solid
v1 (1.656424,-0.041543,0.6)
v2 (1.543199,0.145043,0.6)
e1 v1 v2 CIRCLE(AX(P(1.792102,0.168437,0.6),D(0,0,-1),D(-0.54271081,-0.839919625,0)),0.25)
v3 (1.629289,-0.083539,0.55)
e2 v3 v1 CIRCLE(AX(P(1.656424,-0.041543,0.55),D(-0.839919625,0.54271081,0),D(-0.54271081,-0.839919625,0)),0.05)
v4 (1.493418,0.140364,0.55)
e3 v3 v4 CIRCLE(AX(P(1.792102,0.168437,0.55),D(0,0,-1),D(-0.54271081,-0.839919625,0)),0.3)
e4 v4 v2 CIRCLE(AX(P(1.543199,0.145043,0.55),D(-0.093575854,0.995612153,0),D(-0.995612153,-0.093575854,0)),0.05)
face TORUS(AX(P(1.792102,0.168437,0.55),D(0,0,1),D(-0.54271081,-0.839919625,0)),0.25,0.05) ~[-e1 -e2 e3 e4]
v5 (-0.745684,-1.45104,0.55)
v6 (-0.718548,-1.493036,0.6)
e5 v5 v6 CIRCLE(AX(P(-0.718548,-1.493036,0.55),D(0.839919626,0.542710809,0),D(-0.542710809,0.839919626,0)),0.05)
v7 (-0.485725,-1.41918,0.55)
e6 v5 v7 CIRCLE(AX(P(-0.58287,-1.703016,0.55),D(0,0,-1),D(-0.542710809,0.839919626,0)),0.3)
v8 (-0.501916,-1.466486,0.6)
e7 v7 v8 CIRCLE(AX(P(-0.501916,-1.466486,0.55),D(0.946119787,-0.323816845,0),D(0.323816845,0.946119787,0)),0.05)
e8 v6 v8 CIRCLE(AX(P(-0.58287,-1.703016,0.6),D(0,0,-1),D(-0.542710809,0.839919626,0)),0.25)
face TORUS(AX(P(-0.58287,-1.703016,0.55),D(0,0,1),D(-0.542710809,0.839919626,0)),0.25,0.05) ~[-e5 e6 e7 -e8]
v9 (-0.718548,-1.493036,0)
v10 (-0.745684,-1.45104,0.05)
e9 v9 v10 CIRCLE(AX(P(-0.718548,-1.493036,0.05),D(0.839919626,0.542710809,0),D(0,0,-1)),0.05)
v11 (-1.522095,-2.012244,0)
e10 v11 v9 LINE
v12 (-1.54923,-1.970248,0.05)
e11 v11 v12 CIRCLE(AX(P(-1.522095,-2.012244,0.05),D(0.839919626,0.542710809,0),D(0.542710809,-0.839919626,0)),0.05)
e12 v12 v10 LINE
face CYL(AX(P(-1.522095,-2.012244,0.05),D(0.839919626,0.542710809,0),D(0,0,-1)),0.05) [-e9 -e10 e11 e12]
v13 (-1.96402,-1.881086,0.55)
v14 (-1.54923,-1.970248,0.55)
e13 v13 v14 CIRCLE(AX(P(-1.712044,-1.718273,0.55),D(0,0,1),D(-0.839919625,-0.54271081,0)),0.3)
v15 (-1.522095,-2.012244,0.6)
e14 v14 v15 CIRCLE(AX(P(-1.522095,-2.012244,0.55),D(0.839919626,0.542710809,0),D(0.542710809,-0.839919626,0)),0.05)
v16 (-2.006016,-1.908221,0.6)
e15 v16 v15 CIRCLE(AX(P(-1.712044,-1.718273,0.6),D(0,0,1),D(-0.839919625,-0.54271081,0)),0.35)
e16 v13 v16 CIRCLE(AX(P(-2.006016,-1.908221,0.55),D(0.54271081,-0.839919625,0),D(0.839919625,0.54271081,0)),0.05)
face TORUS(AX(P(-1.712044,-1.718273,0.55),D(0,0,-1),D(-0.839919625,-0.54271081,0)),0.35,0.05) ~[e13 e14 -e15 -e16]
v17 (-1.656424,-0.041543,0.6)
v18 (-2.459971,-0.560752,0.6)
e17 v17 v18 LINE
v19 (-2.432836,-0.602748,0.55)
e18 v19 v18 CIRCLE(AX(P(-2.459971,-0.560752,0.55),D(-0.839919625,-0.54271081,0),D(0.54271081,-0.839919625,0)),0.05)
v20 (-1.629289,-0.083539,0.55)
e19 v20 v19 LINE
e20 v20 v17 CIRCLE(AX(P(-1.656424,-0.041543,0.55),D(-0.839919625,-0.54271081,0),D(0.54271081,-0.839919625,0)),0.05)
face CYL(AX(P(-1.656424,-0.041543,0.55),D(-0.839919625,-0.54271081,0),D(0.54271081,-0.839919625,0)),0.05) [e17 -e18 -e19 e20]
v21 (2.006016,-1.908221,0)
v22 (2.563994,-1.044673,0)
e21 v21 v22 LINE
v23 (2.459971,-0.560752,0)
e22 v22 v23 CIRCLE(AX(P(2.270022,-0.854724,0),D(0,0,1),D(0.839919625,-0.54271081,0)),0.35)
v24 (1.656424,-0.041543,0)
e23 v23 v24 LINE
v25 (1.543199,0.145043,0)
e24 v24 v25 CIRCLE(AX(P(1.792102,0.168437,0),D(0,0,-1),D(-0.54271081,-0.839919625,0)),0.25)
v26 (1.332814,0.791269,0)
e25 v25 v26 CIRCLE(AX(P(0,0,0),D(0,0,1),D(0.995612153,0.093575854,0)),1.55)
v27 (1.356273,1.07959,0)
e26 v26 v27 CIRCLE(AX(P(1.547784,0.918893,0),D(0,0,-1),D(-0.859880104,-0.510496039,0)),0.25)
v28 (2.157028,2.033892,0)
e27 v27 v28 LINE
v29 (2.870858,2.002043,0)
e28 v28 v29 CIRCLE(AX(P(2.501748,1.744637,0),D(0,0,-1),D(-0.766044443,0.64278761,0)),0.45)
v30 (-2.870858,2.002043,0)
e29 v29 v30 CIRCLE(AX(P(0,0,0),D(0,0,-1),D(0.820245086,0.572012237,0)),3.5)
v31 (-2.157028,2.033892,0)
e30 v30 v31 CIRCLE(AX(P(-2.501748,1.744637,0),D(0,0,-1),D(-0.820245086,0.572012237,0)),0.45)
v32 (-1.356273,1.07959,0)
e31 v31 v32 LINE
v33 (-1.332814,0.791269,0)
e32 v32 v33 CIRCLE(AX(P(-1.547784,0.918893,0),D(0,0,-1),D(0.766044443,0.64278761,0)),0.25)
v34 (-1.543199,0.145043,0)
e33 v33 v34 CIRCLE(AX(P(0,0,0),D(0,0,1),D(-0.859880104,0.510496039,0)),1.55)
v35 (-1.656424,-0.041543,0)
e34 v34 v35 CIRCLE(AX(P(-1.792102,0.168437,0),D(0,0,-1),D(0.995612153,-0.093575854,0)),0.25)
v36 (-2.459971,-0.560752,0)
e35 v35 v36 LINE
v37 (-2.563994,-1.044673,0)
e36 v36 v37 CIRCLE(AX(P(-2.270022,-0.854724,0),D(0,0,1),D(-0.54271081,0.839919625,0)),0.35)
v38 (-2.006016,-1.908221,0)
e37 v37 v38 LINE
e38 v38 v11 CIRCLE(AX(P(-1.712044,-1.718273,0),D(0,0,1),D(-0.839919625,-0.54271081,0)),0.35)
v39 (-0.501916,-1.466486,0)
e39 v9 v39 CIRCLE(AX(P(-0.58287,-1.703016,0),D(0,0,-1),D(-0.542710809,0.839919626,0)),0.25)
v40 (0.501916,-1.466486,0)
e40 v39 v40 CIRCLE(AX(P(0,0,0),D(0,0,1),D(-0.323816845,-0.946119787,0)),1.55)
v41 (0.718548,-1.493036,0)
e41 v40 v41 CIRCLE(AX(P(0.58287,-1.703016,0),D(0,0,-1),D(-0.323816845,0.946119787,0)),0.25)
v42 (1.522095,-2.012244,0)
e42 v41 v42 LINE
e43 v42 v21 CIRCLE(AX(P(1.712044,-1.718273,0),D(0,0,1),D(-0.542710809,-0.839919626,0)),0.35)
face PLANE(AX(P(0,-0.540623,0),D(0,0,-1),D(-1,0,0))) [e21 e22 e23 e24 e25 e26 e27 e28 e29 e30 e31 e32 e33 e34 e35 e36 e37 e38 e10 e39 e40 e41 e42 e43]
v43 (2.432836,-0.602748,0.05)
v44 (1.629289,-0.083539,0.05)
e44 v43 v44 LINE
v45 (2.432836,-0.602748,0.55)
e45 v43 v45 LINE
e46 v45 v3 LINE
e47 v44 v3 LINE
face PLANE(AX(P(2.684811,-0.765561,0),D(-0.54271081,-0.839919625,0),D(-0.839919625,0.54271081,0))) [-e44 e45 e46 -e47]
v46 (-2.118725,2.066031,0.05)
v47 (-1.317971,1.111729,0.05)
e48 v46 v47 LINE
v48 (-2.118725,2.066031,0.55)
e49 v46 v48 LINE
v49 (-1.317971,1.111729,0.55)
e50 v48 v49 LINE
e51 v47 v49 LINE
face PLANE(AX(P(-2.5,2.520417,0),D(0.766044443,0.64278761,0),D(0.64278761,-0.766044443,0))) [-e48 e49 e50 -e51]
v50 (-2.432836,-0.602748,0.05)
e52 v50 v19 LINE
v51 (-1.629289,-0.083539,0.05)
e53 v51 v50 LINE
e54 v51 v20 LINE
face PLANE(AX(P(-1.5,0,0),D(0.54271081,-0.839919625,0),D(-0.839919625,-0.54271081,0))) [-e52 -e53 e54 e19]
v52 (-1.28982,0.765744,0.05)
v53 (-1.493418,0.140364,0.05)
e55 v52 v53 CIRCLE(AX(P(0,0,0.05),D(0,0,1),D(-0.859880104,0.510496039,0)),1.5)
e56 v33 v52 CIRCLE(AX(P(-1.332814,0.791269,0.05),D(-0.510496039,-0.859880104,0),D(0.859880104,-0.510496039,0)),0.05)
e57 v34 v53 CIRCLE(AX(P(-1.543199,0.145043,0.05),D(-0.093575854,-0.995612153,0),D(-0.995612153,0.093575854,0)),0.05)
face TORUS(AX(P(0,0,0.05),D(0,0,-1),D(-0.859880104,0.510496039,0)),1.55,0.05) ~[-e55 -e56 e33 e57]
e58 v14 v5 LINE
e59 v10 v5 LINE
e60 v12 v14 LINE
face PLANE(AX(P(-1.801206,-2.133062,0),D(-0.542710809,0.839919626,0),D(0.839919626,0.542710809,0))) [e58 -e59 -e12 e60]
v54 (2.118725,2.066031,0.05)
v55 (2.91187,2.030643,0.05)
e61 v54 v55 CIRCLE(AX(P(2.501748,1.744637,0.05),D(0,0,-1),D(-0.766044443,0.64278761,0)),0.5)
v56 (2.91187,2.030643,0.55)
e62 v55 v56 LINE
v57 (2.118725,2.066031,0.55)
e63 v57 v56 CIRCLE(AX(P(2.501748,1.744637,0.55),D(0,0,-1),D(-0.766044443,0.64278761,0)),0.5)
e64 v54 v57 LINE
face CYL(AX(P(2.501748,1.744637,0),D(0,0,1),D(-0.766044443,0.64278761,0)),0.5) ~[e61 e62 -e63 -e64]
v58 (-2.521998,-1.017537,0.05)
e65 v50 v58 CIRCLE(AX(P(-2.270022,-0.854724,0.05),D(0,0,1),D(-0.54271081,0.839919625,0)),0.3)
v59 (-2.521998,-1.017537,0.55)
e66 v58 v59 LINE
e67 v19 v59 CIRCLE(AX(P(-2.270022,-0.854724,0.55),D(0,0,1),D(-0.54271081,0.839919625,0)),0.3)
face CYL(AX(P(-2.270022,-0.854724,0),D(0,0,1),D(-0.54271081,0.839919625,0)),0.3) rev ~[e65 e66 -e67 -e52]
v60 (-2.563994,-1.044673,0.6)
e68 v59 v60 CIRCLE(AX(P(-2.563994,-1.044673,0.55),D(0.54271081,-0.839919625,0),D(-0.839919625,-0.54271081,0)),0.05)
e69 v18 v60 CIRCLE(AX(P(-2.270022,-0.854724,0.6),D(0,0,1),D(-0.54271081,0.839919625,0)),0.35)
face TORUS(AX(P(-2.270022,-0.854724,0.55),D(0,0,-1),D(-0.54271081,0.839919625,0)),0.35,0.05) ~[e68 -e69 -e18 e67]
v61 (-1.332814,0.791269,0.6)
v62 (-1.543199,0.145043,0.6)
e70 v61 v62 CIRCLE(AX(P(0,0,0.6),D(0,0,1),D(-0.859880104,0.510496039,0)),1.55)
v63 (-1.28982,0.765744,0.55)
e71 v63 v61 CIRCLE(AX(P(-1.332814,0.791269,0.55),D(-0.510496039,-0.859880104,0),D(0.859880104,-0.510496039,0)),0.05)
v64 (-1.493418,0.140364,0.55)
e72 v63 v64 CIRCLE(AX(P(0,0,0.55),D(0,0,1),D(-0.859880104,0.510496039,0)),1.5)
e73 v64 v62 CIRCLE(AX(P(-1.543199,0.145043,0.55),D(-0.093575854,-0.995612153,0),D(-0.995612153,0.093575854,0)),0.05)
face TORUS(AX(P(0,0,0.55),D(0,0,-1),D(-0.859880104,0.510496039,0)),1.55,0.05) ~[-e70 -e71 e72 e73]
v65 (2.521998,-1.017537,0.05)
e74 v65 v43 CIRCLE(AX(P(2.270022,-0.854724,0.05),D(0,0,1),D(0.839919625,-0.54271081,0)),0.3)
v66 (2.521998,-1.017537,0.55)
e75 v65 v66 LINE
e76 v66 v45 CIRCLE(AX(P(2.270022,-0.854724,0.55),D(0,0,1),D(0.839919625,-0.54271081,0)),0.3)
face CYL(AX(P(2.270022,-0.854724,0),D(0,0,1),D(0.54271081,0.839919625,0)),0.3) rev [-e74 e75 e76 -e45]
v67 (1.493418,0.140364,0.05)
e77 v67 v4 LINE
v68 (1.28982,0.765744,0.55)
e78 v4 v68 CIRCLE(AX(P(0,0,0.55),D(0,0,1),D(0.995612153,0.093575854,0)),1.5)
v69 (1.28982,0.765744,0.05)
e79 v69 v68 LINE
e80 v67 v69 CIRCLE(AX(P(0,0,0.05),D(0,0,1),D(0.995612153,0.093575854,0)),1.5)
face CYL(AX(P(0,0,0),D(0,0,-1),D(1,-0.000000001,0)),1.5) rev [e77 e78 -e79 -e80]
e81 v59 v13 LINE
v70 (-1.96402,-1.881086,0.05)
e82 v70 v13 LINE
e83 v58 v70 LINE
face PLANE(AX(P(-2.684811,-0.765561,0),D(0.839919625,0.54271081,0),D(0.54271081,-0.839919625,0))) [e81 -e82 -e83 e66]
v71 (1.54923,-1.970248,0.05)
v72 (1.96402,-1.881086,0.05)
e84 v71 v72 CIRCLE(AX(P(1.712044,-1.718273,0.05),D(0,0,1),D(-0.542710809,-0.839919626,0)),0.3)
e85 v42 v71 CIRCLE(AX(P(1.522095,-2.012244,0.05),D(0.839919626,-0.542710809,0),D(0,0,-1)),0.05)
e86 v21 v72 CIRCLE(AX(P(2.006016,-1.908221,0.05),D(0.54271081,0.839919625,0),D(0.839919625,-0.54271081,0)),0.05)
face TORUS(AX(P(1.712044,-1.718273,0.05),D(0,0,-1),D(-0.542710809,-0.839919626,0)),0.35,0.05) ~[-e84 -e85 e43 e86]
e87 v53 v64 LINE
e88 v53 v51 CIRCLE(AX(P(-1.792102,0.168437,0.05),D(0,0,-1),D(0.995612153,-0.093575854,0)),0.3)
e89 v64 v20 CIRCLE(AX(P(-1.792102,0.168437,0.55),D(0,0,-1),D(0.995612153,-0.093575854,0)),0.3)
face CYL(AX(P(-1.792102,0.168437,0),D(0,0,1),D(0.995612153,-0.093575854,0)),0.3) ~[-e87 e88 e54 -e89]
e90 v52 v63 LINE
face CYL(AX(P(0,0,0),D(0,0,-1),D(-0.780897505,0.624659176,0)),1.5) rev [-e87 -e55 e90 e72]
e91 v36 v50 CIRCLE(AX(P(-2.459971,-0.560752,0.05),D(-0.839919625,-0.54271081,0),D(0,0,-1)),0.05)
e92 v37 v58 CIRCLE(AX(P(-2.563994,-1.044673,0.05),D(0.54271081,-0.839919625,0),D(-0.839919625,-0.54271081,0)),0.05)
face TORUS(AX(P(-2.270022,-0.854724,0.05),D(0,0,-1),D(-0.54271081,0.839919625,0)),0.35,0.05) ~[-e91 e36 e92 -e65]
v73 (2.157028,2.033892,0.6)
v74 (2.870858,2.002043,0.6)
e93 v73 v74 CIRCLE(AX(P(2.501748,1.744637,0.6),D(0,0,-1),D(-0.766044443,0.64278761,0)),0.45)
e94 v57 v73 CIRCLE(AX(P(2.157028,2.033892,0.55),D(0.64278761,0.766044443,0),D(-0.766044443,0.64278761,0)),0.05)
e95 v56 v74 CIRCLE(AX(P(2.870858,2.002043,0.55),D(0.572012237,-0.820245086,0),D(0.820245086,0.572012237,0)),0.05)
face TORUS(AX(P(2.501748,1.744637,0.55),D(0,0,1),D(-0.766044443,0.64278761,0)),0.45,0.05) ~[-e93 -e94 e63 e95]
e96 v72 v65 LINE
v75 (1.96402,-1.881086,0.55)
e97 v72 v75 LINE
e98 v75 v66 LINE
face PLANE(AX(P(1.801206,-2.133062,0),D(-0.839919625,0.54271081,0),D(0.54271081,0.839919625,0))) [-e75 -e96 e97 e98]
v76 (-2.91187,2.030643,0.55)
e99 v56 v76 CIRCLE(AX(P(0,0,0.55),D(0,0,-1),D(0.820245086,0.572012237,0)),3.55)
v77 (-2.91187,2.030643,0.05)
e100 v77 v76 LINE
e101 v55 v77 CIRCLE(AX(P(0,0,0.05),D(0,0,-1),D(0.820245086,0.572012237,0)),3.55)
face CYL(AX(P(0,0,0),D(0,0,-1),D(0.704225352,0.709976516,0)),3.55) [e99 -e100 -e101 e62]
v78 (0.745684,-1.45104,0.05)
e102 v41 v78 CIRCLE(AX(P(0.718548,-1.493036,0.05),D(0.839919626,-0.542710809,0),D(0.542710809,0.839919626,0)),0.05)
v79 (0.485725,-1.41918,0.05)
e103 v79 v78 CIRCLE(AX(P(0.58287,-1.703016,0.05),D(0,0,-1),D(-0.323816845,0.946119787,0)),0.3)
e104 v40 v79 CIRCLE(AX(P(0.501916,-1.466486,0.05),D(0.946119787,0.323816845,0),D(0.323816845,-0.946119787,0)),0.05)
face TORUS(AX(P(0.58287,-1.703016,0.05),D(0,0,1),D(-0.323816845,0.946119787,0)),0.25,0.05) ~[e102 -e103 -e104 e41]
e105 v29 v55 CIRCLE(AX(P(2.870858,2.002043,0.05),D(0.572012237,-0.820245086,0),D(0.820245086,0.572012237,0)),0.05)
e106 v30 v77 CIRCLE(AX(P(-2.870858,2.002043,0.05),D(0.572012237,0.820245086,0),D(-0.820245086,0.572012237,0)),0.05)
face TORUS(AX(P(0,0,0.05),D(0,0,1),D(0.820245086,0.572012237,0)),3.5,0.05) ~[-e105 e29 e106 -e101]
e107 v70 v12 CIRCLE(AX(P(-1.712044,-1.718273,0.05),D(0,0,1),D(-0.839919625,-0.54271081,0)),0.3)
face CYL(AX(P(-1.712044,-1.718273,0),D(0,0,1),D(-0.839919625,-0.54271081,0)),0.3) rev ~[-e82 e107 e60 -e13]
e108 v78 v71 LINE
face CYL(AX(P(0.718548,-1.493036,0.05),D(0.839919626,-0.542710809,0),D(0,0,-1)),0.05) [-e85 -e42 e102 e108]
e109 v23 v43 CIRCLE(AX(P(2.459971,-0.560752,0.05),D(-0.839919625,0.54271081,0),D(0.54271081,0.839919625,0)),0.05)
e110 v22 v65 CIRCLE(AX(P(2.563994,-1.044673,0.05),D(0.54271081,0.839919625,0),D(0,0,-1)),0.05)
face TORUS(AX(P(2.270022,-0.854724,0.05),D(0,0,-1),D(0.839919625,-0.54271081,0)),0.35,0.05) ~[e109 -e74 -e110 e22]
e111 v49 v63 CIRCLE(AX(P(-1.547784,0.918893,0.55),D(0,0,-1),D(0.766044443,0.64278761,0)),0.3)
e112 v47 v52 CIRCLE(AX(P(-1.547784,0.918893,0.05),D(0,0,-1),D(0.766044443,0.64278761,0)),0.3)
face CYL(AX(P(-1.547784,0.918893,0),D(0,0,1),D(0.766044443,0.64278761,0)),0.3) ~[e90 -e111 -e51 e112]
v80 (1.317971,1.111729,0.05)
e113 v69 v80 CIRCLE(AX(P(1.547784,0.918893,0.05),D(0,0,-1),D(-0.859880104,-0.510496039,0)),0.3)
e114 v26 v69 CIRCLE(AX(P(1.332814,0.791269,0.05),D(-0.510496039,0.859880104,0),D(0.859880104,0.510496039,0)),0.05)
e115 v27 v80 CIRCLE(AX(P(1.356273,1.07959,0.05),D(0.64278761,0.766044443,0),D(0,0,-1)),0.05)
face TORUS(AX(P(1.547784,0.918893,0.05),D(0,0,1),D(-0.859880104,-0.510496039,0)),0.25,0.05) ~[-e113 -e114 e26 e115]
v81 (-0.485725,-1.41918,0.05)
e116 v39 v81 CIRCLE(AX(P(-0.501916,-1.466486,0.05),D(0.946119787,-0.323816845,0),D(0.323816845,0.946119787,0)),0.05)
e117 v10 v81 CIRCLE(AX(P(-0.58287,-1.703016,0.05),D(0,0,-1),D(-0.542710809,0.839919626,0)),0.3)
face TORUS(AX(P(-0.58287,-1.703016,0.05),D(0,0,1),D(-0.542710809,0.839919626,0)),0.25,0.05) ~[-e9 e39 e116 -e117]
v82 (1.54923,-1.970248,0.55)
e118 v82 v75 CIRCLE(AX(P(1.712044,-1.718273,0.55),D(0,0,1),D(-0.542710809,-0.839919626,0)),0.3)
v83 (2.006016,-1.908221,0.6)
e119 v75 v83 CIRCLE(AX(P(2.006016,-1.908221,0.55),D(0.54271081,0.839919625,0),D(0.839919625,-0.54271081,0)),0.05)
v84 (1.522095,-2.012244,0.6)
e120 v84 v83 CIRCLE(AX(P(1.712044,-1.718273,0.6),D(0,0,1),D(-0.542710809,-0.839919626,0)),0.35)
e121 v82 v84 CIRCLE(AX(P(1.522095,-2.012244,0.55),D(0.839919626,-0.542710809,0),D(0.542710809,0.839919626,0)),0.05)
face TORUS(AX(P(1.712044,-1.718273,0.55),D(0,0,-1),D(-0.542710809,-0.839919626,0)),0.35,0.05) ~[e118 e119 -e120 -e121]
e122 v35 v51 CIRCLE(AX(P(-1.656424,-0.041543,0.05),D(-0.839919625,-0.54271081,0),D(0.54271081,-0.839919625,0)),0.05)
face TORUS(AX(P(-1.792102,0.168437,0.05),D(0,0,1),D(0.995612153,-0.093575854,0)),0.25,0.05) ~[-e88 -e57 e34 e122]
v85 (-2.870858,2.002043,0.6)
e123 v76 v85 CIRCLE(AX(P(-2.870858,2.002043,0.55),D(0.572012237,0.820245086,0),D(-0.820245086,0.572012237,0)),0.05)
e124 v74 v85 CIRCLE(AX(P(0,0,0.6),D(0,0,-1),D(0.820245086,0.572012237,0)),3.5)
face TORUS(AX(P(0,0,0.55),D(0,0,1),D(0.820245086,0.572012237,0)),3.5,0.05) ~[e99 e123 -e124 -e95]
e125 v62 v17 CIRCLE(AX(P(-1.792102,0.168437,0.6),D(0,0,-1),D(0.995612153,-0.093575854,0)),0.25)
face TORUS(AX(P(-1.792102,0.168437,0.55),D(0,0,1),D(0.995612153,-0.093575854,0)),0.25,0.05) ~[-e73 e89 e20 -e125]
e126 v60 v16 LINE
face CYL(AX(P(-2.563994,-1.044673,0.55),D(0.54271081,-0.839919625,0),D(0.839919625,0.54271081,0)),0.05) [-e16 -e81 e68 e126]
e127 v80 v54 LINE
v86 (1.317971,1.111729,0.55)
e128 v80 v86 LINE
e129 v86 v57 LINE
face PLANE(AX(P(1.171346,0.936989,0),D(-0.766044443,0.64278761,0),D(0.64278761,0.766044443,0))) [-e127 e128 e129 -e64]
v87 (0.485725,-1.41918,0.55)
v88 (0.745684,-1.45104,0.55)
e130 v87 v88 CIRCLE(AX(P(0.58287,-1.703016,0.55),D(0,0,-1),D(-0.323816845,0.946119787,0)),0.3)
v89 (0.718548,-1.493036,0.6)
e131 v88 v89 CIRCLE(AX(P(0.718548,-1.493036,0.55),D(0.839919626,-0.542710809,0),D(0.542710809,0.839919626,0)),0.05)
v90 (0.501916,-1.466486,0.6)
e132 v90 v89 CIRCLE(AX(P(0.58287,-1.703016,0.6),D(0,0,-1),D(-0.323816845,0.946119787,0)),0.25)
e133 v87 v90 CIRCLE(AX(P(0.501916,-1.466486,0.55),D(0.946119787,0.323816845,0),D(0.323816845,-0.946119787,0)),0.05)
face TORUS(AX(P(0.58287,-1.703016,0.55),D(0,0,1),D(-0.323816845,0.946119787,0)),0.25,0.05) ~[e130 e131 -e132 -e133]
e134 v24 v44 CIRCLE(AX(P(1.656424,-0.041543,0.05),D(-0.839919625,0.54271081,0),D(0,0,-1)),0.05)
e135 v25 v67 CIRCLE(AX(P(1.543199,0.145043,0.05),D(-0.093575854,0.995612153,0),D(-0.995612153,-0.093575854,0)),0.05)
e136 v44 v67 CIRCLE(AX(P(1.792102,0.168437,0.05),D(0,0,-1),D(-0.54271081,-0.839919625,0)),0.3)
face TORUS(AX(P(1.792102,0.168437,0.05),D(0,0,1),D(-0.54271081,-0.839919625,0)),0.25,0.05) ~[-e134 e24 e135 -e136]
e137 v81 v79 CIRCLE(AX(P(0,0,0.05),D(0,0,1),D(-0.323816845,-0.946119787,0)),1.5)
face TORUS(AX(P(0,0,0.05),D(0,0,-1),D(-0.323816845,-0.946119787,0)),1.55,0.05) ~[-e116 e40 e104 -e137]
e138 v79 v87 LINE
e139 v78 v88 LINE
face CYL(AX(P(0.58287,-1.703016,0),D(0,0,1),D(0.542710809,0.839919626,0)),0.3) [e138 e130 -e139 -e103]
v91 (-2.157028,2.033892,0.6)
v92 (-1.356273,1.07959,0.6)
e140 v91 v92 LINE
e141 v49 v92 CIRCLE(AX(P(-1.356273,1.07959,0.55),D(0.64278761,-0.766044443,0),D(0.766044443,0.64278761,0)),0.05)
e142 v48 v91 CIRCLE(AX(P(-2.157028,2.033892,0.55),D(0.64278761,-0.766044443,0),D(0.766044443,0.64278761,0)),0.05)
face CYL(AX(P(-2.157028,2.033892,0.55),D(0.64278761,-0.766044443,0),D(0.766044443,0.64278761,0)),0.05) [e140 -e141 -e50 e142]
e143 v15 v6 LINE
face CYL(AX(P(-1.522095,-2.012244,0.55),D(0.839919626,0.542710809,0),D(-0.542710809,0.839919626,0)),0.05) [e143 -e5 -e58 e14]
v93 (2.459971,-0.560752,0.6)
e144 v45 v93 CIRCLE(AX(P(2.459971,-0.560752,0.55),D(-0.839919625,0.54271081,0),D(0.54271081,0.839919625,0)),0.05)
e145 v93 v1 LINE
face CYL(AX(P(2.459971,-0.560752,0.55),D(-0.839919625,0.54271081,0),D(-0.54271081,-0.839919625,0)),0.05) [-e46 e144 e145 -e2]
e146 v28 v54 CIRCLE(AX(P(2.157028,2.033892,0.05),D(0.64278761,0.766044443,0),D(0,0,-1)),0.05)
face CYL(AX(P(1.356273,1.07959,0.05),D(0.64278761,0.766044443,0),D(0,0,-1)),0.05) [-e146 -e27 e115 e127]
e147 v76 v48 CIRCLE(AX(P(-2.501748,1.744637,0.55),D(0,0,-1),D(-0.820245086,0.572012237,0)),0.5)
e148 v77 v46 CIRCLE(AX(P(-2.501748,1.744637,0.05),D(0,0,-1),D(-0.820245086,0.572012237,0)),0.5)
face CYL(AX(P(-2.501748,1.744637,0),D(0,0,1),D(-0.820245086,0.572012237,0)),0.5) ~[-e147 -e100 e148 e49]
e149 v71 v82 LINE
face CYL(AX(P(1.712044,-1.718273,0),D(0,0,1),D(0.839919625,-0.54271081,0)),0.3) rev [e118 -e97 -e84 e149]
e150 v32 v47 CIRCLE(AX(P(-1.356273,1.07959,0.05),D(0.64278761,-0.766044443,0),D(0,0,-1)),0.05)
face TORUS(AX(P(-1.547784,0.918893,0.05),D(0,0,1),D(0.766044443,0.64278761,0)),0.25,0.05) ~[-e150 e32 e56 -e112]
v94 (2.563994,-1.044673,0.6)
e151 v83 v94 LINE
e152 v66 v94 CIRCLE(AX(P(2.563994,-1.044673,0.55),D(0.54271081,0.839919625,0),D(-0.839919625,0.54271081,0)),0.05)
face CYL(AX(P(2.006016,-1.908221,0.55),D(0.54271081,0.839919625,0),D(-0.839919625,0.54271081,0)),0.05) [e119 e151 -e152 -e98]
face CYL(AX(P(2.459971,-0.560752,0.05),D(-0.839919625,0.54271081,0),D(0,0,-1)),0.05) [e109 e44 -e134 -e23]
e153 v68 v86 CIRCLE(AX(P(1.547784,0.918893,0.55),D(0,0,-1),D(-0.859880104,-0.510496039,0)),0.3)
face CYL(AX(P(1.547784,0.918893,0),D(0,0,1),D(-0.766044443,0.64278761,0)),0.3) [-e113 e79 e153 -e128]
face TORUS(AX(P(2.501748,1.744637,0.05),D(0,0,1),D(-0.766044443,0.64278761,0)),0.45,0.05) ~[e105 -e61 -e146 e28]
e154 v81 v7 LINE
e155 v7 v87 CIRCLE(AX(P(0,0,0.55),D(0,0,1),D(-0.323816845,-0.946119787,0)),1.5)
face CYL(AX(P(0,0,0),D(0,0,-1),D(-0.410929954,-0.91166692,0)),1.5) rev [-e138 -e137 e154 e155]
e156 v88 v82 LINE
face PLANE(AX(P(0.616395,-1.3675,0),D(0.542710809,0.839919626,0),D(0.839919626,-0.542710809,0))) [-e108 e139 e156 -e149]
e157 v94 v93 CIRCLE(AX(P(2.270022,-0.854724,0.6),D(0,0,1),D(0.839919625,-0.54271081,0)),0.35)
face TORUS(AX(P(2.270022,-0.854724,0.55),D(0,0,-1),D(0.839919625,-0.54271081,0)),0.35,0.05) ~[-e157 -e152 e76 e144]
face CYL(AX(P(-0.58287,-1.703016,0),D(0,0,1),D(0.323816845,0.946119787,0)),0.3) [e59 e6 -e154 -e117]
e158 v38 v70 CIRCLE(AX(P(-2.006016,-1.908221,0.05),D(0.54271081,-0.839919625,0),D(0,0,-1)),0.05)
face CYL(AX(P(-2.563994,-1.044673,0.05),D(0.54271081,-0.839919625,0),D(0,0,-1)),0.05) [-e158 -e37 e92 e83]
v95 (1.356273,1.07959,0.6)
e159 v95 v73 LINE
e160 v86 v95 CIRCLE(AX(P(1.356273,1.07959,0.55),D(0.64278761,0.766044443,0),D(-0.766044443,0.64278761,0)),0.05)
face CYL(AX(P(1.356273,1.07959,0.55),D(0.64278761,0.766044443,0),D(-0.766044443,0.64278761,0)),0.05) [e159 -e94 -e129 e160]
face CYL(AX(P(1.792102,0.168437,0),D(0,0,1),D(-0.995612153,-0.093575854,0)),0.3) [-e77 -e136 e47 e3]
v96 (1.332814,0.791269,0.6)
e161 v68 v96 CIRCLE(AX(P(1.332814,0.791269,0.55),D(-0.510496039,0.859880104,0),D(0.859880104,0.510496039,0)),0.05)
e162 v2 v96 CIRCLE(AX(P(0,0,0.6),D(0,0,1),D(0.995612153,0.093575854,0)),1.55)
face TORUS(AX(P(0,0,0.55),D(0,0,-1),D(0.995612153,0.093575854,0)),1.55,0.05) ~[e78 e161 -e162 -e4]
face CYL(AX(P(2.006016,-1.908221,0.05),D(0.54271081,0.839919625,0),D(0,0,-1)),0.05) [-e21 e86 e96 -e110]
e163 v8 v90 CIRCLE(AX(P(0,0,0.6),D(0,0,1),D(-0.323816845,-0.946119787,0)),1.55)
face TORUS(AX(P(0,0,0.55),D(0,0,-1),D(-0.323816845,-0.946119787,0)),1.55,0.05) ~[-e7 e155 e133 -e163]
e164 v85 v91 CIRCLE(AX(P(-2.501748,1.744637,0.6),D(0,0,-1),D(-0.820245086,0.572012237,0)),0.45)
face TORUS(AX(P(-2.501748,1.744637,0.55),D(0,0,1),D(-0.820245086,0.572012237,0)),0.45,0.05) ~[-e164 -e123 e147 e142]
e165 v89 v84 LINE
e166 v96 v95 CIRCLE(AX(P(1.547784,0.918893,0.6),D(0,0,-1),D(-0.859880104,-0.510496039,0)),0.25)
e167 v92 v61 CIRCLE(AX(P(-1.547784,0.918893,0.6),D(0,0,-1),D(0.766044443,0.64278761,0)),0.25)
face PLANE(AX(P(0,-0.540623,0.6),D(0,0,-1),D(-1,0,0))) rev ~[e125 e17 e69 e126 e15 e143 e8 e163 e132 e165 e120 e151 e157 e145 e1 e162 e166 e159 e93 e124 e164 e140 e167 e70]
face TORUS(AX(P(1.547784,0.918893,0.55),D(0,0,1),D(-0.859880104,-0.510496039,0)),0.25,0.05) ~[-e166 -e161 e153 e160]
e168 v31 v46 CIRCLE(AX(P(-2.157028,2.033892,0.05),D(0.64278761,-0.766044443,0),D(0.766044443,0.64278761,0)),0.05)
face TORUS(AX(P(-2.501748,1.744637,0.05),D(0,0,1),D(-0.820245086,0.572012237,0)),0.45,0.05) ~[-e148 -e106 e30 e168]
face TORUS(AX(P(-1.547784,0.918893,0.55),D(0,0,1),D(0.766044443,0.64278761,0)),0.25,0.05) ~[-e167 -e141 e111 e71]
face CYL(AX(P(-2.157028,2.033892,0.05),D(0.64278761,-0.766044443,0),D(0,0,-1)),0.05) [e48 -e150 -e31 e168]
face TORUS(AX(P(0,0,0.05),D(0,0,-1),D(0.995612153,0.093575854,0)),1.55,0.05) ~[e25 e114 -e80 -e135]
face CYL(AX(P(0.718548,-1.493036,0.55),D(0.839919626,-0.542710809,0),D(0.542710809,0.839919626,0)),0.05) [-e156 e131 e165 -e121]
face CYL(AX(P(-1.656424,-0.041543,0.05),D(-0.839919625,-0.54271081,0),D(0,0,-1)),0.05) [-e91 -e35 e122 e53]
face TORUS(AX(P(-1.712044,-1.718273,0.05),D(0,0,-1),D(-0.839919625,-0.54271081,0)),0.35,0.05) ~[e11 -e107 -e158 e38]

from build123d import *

# Parameters (mm, degrees)
BOSS_EXTRUDE1_DEPTH = 0.6
FILLET1_R           = 0.5
FILLET2_R           = 0.3
FILLET3_R           = 0.3
FILLET4_R           = 0.05


with BuildPart() as part:
    # Sketch1 → Boss-Extrude1 (new body)
    with BuildSketch(Plane.XY):
        with BuildLine():
            Line((1.171346259, 0.936988763), (2.5, 2.520416632))
            ThreePointArc((2.5, 2.520416632), (0, -3.55), (-2.5, 2.520416632))
            Line((-2.5, 2.520416632), (-1.171346259, 0.936988763))
            ThreePointArc((-1.171346259, 0.936988763), (-1.415453883, 0.496477901), (-1.5, 0))
            Line((-1.5, 0), (-2.684811412, -0.765561301))
            Line((-2.684811412, -0.765561301), (-1.801206343, -2.13306168))
            Line((-1.801206343, -2.13306168), (-0.616394931, -1.36750038))
            ThreePointArc((-0.616394931, -1.36750038), (0, -1.5), (0.616394931, -1.36750038))
            Line((0.616394931, -1.36750038), (1.801206343, -2.13306168))
            Line((1.801206343, -2.13306168), (2.684811412, -0.765561301))
            Line((2.684811412, -0.765561301), (1.5, 0))
            ThreePointArc((1.5, 0), (1.415453883, 0.496477901), (1.171346259, 0.936988763))
        make_face()
    extrude(amount=BOSS_EXTRUDE1_DEPTH)

    # Fillet1
    fillet1_edges = [part.edges().sort_by_distance(p)[0] for p in [
        (2.5, 2.520416632, 0.3),
        (-2.5, 2.520416632, 0.3),
    ]]
    fillet(fillet1_edges, radius=FILLET1_R)

    # Fillet2
    fillet2_edges = [part.edges().sort_by_distance(p)[0] for p in [
        (1.171346259, 0.936988763, 0.3),
        (-1.171346259, 0.936988763, 0.3),
        (-1.5, 0, 0.3),
        (-0.616394931, -1.36750038, 0.3),
        (0.616394931, -1.36750038, 0.3),
        (1.5, 0, 0.3),
    ]]
    fillet(fillet2_edges, radius=FILLET2_R)

    # Fillet3
    fillet3_edges = [part.edges().sort_by_distance(p)[0] for p in [
        (-2.684811412, -0.765561301, 0.3),
        (-1.801206343, -2.13306168, 0.3),
        (1.801206343, -2.13306168, 0.3),
        (2.684811412, -0.765561301, 0.3),
    ]]
    fillet(fillet3_edges, radius=FILLET3_R)

    # Fillet4
    fillet4_edges = [part.edges().sort_by_distance(p)[0] for p in [
        (1.718348073, 1.58888014, 0),
        (1.718348073, 1.58888014, 0.6),
        (0, -3.55, 0),
        (-2.524033807, 2.244140397, 0),
        (2.524033807, 2.244140397, 0),
        (0, -3.55, 0.6),
        (-2.524033807, 2.244140397, 0.6),
        (2.524033807, 2.244140397, 0.6),
        (0, -1.5, 0),
        (0, -1.5, 0.6),
        (-1.718348073, 1.58888014, 0),
        (-1.42631662, 0.464349974, 0),
        (-1.14745701, -1.710644083, 0),
        (2.031062079, -0.343143703, 0),
        (1.42631662, 0.464349974, 0),
        (-1.248772298, 0.943221645, 0),
        (-1.535629659, 0.012802345, 0),
        (1.248772298, 0.943221645, 0),
        (1.535629659, 0.012802345, 0),
        (-0.619364751, -1.405243629, 0),
        (0.619364751, -1.405243629, 0),
        (1.42631662, 0.464349974, 0.6),
        (2.031062079, -0.343143703, 0.6),
        (-1.14745701, -1.710644083, 0.6),
        (-1.42631662, 0.464349974, 0.6),
        (-1.718348073, 1.58888014, 0.6),
        (-1.248772298, 0.943221645, 0.6),
        (-1.535629659, 0.012802345, 0.6),
        (1.248772298, 0.943221645, 0.6),
        (1.535629659, 0.012802345, 0.6),
        (-0.619364751, -1.405243629, 0.6),
        (0.619364751, -1.405243629, 0.6),
        (-2.243008878, -1.44931149, 0),
        (-2.243008878, -1.44931149, 0.6),
        (-2.031062079, -0.343143703, 0),
        (-2.031062079, -0.343143703, 0.6),
        (1.14745701, -1.710644083, 0),
        (1.14745701, -1.710644083, 0.6),
        (2.243008878, -1.44931149, 0),
        (2.243008878, -1.44931149, 0.6),
        (-1.775091209, -2.011572757, 0),
        (-1.775091209, -2.011572757, 0.6),
        (-2.563322488, -0.791676435, 0),
        (-2.563322488, -0.791676435, 0.6),
        (1.775091209, -2.011572757, 0),
        (1.775091209, -2.011572757, 0.6),
        (2.563322488, -0.791676435, 0),
        (2.563322488, -0.791676435, 0.6),
    ]]
    fillet(fillet4_edges, radius=FILLET4_R)


solid = part.part
